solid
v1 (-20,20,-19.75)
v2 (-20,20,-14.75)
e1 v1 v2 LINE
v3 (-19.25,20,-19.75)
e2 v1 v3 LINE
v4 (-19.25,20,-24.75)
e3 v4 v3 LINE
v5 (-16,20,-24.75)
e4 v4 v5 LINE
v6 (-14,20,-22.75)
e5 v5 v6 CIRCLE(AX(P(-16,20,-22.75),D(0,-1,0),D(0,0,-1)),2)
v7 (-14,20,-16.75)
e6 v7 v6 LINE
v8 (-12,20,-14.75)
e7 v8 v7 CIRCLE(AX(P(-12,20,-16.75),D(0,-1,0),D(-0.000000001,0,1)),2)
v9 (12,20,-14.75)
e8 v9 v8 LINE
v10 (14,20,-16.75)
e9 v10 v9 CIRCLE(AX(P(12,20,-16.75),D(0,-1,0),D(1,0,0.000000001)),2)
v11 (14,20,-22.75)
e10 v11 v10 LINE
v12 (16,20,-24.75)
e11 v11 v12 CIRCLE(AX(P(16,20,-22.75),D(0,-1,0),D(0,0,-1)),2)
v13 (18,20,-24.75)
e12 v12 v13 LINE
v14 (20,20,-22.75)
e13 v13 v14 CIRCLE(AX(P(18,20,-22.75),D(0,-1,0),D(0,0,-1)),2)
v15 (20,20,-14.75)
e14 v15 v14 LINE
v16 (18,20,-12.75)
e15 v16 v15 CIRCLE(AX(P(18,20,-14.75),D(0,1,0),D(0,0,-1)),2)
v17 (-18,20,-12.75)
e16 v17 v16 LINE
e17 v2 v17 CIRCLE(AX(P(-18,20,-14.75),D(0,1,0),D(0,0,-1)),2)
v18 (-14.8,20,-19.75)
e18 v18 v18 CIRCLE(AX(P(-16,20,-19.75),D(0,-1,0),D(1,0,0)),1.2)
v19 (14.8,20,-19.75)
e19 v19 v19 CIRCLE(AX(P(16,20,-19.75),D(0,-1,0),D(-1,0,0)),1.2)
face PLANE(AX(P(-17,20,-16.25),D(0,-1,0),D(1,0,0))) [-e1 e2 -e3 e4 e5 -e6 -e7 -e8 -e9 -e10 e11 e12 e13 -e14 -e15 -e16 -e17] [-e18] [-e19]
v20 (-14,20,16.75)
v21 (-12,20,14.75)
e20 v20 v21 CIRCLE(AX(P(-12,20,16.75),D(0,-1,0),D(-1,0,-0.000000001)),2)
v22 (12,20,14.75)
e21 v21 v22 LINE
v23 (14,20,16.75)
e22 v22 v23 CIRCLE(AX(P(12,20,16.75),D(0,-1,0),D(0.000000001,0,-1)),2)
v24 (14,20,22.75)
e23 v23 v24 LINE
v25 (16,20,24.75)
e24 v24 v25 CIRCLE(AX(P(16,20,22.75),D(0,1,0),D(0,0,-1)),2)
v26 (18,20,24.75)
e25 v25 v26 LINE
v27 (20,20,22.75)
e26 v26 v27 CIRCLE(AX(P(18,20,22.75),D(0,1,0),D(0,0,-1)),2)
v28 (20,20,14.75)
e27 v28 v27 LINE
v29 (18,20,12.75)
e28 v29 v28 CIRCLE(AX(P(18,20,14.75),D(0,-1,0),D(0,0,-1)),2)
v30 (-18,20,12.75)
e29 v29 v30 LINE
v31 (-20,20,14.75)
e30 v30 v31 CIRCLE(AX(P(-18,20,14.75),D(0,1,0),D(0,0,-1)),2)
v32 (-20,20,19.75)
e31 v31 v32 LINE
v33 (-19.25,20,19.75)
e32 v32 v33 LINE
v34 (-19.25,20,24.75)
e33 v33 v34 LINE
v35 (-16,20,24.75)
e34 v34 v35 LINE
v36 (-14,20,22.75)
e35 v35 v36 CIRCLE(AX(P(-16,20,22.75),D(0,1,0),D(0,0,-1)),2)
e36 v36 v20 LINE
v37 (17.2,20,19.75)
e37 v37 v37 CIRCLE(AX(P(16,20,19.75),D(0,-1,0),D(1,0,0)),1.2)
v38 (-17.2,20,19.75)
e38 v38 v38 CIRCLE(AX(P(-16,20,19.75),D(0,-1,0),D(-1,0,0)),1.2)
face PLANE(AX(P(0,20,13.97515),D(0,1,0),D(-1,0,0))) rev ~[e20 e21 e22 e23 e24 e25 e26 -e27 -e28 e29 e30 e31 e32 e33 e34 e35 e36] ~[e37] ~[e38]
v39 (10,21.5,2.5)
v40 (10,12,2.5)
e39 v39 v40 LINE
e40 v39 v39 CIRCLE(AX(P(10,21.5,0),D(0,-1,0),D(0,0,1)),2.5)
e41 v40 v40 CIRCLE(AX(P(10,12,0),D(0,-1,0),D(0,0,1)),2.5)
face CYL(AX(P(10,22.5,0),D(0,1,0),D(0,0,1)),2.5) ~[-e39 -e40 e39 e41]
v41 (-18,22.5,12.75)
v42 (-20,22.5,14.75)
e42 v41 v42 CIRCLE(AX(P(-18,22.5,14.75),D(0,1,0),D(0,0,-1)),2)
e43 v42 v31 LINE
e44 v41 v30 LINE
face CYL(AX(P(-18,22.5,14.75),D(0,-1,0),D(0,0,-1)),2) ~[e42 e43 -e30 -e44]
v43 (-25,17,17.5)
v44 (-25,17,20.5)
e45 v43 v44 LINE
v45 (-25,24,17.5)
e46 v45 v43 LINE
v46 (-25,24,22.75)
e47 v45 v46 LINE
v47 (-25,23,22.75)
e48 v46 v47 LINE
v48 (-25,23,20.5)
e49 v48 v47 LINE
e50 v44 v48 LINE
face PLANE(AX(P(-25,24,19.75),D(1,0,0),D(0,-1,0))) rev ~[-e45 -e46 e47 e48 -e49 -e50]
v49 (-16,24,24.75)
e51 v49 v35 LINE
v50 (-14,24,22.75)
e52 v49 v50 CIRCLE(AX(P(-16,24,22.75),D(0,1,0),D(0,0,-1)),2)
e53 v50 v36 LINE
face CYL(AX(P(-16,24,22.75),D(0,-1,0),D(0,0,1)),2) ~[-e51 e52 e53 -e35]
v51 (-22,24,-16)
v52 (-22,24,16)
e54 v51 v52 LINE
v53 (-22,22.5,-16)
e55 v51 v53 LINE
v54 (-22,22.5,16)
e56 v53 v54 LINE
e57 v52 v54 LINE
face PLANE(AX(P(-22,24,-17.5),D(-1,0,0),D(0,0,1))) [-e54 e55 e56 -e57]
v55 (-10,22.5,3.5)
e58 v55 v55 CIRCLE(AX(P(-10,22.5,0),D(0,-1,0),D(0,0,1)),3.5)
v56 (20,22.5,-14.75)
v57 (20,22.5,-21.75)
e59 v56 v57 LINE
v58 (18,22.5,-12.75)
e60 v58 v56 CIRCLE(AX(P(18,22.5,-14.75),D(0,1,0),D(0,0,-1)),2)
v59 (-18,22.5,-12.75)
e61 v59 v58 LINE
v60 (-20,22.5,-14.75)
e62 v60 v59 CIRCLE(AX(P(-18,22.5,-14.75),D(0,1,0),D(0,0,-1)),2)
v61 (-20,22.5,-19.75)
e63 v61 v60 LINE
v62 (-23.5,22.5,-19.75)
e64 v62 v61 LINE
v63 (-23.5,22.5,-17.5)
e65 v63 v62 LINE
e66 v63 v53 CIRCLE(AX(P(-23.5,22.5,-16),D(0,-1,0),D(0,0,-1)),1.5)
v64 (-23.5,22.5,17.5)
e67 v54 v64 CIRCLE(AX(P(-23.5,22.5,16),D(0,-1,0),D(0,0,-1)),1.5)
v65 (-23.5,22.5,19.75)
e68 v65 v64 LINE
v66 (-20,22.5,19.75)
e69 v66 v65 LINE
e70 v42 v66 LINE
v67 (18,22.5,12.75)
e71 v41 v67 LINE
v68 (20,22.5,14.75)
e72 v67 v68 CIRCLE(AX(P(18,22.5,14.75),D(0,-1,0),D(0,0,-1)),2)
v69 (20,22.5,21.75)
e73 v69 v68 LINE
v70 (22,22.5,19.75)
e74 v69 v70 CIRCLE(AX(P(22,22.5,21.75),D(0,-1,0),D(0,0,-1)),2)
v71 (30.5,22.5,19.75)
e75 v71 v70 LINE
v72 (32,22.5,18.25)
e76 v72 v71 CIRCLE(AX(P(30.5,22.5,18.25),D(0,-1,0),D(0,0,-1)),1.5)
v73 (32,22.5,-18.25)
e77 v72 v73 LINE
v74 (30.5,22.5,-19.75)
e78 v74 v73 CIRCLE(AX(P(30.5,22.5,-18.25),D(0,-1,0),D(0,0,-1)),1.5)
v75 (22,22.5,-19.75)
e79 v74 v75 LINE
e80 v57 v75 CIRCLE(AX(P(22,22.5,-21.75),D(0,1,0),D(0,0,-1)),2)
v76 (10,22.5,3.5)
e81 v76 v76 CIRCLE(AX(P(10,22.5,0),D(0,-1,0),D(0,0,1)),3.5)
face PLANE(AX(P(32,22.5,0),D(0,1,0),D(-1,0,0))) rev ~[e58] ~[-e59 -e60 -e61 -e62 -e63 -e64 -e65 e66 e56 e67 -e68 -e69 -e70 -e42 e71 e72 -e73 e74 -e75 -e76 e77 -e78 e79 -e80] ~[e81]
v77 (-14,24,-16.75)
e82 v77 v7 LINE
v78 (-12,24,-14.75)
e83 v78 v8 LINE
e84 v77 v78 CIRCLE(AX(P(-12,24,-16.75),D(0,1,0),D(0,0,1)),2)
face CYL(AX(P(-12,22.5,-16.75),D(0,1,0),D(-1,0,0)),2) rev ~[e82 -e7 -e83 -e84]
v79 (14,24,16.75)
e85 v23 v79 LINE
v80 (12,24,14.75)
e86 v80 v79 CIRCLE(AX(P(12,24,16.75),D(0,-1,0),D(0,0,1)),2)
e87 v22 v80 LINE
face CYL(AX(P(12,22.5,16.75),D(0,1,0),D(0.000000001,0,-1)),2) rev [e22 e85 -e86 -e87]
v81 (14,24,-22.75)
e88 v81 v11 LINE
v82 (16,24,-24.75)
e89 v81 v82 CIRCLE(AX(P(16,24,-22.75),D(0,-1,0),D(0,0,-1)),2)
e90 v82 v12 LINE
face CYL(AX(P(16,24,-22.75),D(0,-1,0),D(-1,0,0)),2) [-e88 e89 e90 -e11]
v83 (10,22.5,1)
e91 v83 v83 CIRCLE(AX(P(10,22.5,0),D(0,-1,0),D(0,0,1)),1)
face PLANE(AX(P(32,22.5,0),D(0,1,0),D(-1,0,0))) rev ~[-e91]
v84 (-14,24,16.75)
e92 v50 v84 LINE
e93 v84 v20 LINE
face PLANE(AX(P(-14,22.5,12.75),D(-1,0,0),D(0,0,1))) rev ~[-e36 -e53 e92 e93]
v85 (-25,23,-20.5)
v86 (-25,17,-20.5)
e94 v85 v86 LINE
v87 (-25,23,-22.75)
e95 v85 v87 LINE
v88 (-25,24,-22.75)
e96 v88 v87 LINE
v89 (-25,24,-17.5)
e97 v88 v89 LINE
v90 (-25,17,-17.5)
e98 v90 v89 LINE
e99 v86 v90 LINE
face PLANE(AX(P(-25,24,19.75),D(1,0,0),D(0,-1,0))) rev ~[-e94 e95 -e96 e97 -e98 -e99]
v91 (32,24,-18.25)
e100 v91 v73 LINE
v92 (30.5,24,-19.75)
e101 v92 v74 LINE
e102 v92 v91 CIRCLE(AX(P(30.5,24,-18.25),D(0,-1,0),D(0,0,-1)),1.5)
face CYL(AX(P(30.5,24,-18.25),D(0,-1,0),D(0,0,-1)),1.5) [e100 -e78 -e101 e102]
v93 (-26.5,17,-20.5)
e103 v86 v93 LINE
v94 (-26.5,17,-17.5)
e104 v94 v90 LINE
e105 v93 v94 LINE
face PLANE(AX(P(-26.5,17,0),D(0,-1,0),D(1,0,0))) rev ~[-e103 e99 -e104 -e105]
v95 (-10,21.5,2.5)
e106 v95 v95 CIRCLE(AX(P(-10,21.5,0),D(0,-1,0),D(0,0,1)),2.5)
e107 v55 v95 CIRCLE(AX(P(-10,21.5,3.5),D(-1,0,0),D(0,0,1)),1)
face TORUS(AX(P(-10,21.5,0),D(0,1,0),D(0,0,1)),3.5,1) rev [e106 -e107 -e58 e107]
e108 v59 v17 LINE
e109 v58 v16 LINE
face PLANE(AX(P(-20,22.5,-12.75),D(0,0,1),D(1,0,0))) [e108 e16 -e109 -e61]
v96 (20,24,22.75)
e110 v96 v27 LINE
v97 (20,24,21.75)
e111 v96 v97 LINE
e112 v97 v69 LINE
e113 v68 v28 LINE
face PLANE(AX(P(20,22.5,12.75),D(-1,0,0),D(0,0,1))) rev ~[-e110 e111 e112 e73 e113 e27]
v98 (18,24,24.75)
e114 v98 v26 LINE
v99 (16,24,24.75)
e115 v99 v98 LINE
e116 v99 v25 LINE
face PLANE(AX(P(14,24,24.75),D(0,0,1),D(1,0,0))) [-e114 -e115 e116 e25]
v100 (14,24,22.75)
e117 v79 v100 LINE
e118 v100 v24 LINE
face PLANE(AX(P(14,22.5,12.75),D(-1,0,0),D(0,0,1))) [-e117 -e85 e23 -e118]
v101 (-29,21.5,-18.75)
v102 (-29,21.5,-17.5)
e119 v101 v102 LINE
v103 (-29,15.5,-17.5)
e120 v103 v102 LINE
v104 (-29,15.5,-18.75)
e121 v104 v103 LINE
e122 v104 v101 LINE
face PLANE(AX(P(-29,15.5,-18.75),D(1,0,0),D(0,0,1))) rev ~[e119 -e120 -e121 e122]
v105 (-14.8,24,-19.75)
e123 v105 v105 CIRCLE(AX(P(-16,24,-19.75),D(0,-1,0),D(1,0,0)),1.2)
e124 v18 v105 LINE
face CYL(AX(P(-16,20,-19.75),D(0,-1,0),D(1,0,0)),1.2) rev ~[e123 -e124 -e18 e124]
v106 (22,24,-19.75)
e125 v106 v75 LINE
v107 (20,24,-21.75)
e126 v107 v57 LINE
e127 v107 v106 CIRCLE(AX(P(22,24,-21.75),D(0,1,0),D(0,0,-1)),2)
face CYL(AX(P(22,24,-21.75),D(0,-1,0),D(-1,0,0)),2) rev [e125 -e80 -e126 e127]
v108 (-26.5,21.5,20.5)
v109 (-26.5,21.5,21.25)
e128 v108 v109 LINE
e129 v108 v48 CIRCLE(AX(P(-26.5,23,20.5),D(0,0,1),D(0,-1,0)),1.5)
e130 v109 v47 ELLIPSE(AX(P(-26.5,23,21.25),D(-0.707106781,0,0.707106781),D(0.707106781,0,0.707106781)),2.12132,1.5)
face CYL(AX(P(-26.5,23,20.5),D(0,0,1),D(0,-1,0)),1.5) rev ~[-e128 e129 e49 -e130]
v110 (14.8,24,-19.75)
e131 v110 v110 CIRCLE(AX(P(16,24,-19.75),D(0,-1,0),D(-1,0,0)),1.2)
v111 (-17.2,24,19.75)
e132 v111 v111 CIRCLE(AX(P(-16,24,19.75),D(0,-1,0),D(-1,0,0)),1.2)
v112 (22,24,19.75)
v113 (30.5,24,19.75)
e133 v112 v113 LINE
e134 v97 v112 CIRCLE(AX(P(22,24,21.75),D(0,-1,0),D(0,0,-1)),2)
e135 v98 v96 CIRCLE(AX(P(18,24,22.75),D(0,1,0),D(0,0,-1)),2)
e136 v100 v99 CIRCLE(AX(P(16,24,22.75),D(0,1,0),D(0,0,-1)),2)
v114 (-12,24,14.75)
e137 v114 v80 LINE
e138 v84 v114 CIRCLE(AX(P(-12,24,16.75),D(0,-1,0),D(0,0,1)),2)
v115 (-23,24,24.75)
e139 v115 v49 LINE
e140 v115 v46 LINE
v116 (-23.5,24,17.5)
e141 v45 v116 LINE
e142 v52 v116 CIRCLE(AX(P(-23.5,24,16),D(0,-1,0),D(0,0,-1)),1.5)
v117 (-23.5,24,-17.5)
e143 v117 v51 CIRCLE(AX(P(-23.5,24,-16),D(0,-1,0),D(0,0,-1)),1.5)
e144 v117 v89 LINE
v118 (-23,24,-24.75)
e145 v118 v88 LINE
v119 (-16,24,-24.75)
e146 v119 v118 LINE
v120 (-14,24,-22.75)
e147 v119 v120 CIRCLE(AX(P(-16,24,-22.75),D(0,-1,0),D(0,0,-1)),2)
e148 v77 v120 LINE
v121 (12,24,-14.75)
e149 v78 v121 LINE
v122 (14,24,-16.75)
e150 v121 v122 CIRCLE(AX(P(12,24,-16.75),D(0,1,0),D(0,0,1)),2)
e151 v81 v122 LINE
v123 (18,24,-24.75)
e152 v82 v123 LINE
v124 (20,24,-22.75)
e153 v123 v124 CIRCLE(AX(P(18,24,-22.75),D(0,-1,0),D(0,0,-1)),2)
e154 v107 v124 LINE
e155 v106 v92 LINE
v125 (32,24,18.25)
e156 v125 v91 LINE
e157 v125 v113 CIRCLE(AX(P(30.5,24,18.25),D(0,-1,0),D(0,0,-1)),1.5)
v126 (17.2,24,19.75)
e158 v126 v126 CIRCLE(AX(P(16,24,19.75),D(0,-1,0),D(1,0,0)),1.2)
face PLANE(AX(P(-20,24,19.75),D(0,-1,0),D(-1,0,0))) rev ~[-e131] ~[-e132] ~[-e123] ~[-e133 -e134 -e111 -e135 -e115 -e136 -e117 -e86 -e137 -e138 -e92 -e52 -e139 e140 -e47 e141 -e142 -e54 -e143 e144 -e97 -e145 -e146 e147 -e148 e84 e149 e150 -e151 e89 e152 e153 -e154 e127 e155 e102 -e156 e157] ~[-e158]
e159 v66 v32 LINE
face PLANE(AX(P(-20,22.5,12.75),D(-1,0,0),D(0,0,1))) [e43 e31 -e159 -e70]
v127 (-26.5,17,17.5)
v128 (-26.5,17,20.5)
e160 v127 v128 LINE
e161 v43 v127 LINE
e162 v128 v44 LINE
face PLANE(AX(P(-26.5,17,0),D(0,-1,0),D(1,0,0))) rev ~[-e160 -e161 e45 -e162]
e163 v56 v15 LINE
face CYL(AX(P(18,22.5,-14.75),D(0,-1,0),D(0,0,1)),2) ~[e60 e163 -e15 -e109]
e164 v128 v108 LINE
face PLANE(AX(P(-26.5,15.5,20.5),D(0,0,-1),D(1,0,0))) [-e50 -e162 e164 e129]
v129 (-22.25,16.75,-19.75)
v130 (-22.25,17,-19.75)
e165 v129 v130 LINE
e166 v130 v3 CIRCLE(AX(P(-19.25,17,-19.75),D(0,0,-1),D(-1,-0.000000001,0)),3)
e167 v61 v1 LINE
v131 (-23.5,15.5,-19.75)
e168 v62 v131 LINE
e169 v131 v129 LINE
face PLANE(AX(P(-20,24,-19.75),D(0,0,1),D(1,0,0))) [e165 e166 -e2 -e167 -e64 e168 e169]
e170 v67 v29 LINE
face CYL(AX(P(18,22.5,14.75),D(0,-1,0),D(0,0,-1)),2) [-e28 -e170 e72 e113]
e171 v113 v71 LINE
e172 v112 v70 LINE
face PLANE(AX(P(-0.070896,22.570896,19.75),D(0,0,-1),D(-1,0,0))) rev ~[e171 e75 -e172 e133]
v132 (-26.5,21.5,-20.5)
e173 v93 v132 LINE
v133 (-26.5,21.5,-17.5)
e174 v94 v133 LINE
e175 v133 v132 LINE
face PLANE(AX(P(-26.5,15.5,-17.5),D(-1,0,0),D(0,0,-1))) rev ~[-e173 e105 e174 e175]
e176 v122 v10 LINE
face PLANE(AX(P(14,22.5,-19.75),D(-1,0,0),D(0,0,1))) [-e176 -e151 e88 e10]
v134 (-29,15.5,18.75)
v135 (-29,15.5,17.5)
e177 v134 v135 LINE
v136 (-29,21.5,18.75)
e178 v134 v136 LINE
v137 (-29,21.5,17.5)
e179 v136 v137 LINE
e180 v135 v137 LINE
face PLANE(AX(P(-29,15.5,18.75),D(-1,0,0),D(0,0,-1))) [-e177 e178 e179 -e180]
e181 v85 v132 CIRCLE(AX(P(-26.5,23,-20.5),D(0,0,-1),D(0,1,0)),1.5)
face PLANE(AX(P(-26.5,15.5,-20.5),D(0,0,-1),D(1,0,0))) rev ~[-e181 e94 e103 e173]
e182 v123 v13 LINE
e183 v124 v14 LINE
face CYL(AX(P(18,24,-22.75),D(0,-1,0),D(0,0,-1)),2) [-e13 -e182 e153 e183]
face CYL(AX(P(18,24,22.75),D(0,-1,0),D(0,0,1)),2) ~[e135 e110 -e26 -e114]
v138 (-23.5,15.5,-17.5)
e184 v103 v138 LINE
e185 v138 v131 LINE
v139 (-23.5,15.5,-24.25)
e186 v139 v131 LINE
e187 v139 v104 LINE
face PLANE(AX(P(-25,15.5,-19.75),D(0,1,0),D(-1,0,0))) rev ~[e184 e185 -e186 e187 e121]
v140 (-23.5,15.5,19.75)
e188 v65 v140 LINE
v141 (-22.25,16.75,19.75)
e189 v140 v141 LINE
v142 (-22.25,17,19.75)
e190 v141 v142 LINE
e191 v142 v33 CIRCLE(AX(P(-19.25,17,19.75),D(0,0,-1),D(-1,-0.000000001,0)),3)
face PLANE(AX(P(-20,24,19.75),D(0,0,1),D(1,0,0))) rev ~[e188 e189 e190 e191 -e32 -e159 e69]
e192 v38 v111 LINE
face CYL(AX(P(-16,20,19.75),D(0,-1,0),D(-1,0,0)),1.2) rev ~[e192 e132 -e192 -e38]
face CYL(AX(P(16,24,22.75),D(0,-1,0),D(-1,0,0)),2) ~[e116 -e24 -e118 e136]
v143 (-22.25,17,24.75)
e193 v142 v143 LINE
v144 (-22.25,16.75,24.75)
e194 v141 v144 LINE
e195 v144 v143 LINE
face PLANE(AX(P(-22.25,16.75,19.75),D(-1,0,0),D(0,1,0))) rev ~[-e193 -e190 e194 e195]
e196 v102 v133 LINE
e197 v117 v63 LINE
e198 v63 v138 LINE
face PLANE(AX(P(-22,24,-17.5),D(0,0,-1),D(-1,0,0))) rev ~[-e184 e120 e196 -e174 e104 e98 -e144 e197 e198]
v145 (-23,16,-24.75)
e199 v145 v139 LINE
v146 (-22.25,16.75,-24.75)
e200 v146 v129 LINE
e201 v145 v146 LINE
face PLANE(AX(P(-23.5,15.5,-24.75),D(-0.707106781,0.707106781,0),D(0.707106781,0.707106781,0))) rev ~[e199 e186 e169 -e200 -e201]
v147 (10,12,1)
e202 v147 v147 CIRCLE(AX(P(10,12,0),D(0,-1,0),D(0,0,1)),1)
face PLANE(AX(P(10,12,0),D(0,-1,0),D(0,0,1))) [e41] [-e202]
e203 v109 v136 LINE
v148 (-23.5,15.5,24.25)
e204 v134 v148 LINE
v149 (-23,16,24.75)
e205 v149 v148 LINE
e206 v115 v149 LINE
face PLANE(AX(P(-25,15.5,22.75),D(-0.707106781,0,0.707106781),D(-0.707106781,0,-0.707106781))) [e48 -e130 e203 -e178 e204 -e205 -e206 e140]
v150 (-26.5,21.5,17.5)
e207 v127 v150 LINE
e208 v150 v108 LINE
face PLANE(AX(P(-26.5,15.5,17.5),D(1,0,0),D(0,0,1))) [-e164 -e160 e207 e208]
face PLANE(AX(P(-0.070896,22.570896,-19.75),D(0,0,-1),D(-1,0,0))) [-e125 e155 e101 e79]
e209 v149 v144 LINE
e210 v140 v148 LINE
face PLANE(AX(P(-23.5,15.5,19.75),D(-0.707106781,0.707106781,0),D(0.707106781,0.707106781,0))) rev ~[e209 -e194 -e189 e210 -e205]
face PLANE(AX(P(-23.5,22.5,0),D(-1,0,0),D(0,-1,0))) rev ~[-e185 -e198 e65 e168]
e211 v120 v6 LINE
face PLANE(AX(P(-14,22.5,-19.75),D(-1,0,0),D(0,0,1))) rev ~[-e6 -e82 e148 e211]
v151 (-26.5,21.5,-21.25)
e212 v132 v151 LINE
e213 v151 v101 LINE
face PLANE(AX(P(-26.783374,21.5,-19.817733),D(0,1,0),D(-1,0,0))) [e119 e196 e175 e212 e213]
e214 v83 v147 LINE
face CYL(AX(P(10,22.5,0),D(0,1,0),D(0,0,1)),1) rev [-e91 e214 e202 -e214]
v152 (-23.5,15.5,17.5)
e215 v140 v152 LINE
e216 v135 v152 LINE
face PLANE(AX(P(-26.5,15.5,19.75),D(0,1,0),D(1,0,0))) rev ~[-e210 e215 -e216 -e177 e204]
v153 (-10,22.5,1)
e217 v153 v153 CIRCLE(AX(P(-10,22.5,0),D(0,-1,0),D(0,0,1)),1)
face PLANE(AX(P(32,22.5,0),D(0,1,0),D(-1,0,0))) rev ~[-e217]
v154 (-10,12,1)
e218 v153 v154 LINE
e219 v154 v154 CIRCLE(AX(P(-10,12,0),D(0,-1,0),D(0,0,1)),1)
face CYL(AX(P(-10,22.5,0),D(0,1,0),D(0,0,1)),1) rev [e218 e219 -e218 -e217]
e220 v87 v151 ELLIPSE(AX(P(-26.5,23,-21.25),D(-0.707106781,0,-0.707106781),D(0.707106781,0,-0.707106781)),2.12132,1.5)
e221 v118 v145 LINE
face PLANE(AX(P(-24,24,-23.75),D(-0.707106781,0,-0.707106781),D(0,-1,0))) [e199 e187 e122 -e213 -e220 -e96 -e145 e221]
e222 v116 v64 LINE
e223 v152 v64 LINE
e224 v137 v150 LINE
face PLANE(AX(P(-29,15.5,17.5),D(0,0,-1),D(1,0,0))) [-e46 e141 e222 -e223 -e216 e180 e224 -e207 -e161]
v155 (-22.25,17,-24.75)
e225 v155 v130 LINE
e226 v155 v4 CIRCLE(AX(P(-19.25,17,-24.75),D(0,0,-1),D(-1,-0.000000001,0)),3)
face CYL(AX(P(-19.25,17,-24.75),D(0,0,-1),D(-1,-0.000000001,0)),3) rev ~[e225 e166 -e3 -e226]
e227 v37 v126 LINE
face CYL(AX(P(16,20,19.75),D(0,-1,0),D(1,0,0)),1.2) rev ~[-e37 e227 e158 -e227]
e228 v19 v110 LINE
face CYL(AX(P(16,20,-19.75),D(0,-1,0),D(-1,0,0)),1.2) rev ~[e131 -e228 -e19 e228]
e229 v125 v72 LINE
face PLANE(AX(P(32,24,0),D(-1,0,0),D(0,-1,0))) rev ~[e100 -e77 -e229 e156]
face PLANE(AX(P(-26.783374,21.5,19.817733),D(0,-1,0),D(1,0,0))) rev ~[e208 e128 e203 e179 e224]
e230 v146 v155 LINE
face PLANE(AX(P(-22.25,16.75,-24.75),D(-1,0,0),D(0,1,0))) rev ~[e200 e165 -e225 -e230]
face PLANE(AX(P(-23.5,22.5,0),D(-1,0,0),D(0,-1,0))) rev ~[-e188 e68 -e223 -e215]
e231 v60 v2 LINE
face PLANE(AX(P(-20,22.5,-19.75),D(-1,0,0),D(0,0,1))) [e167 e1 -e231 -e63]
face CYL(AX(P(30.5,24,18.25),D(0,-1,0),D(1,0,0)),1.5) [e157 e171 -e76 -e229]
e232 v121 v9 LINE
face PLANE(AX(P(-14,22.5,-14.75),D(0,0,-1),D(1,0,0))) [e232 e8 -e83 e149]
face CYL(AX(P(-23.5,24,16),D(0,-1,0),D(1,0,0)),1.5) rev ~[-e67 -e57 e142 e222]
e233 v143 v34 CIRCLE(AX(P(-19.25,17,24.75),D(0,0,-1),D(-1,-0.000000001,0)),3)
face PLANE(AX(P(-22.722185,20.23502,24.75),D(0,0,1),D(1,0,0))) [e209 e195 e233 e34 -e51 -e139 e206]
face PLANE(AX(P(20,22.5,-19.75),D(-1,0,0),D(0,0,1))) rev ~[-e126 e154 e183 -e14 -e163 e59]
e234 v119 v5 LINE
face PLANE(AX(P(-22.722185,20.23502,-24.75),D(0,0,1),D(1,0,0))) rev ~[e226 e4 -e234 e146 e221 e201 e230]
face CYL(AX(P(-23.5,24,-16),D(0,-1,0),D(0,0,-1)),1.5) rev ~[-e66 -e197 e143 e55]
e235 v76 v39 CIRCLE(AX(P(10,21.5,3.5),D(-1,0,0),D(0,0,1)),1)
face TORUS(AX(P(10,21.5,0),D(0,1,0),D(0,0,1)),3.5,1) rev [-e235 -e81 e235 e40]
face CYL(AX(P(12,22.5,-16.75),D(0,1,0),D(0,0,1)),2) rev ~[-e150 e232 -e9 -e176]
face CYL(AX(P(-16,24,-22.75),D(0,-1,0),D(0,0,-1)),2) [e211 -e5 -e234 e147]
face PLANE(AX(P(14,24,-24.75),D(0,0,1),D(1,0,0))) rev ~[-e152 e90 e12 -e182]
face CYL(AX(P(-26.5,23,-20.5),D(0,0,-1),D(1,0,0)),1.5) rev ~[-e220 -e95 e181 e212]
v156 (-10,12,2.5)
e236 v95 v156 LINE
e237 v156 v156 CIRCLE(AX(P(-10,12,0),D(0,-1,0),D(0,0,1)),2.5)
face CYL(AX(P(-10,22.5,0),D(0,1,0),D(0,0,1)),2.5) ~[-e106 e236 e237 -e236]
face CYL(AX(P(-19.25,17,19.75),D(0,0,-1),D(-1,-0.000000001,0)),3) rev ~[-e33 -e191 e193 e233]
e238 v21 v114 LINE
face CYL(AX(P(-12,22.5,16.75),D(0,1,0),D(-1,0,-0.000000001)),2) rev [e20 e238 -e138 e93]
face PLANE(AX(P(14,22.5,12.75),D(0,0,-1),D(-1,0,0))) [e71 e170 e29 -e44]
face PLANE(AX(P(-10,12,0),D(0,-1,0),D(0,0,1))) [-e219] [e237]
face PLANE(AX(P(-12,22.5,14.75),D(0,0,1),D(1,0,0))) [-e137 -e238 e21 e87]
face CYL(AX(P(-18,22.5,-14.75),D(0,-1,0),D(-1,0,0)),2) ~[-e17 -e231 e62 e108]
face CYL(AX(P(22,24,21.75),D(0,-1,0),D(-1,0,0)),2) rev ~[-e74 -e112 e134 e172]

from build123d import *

# Parameters (mm, degrees)
BOSS_EXTRUDE1_DEPTH  = 19.75
SKETCH2_W            = 28
SKETCH2_H            = 5
CUT_EXTRUDE1_DEPTH   = 39.25
SKETCH3_W            = 6
SKETCH3_H            = 5
BOSS_EXTRUDE2_DEPTH  = 4
BOSS_EXTRUDE4_DEPTH  = 5
BOSS_EXTRUDE5_START  = -5
BOSS_EXTRUDE5_DEPTH  = 5
CHAMFER2_SIZE        = 2
FILLET1_R            = 2
CUT_EXTRUDE3_DEPTH   = 42.337785379
BOSS_EXTRUDE6_DEPTH  = 6
FILLET2_R            = 1.5
SKETCH11_R           = 2.5
SKETCH11_R_2         = 1
BOSS_EXTRUDE7_DEPTH  = 10.5
FILLET3_R            = 1
FILLET4_R            = 1.5
SKETCH13_W           = 6
SKETCH13_H           = 7
BOSS_EXTRUDE8_DEPTH  = 2.5
SKETCH14_R           = 1.2
CUT_EXTRUDE6_DEPTH   = 42.237877006
BOSS_EXTRUDE9_DEPTH  = 2.5
FILLET5_R            = 2
SKETCH18_W           = 1.5
SKETCH18_H           = 1.5
BOSS_EXTRUDE10_DEPTH = 0.75
SKETCH19_W           = 1.5
SKETCH19_H           = 1.5
BOSS_EXTRUDE11_DEPTH = 0.75


with BuildPart() as part:
    # Sketch1 → Boss-Extrude1 (new, symmetric)
    with BuildSketch(Plane.XY):
        Polygon((-25, 24), (32, 24), (32, 22.5), (-23.5, 22.5), (-23.5, 15.5), (-26.5, 15.5), (-26.5, 17), (-25, 17), align=None)
    extrude(amount=BOSS_EXTRUDE1_DEPTH, both=True)

    # Sketch2 → Cut-Extrude1 (cut, through all)
    with BuildSketch(Plane.XZ.offset(-22.5)):
        with Locations((0, 17.25)):
            Rectangle(SKETCH2_W, SKETCH2_H)
        with Locations((0, -17.25)):
            Rectangle(SKETCH2_W, SKETCH2_H)
    extrude(amount=-CUT_EXTRUDE1_DEPTH, mode=Mode.SUBTRACT)

    # Sketch3 → Boss-Extrude2 (add)
    with BuildSketch(Plane(origin=(0, 24, 0), x_dir=(1, 0, 0), z_dir=(0, 1, 0))):
        with Locations((-17, 22.25)):
            Rectangle(SKETCH3_W, SKETCH3_H)
        with Locations((17, 22.25)):
            Rectangle(SKETCH3_W, SKETCH3_H)
        with Locations((17, -22.25)):
            Rectangle(SKETCH3_W, SKETCH3_H)
        with Locations((-17, -22.25)):
            Rectangle(SKETCH3_W, SKETCH3_H)
    extrude(amount=-BOSS_EXTRUDE2_DEPTH)

    # Sketch6 → Boss-Extrude4 (add)
    with BuildSketch(Plane(origin=(0, 0, -24.75), x_dir=(-1, 0, 0), z_dir=(0, 0, -1))):
        with BuildLine():
            Line((20, 24), (25, 24))
            Line((25, 24), (25, 15.5))
            Line((25, 15.5), (23.5, 15.5))
            Line((23.5, 15.5), (22.25, 16.75))
            Line((22.25, 16.75), (22.25, 17))
            ThreePointArc((22.25, 17), (21.371320344, 19.121320344), (19.25, 20))
            Line((19.25, 20), (20, 20))
            Line((20, 20), (20, 24))
        make_face()
    extrude(amount=-BOSS_EXTRUDE4_DEPTH)

    # Sketch7 → Boss-Extrude5 (add)
    with BuildSketch(Plane.XY.offset(24.75).offset(BOSS_EXTRUDE5_START)):
        with BuildLine():
            Line((-20, 20), (-20, 24))
            Line((-20, 24), (-25, 24))
            Line((-25, 24), (-25, 15.5))
            Line((-25, 15.5), (-23.5, 15.5))
            Line((-23.5, 15.5), (-22.25, 16.75))
            Line((-22.25, 16.75), (-22.25, 17))
            ThreePointArc((-22.25, 17), (-21.371320344, 19.121320344), (-19.25, 20))
            Line((-19.25, 20), (-20, 20))
        make_face()
    extrude(amount=BOSS_EXTRUDE5_DEPTH)

    # Chamfer2
    chamfer2_edges = [part.edges().sort_by_distance(p)[0] for p in [
        (-25, 19.75, -24.75),
        (-25, 19.75, 24.75),
    ]]
    chamfer(chamfer2_edges, length=CHAMFER2_SIZE)

    # Fillet1
    fillet1_edges = [part.edges().sort_by_distance(p)[0] for p in [
        (14, 23.25, 14.75),
        (-14, 23.25, 14.75),
        (-14, 23.25, -14.75),
        (14, 23.25, -14.75),
        (14, 22, 24.75),
        (20, 23.25, 19.75),
        (20, 22, 24.75),
        (-14, 22, 24.75),
        (20, 23.25, -19.75),
        (14, 22, -24.75),
        (20, 22, -24.75),
        (-14, 22, -24.75),
    ]]
    fillet(fillet1_edges, radius=FILLET1_R)

    # Sketch8 → Cut-Extrude3 (cut, through all)
    with BuildSketch(Plane(origin=(0, 24, 0), x_dir=(1, 0, 0), z_dir=(0, 1, 0))):
        Polygon((-25, 17.5), (-22, 17.5), (-22, -17.5), (-25, -17.5), (-26.867861181, -17.5), (-26.867861181, 17.5), align=None)
    extrude(amount=-CUT_EXTRUDE3_DEPTH, mode=Mode.SUBTRACT)

    # Sketch9 → Boss-Extrude6 (add)
    with BuildSketch(Plane.XZ.offset(-15.5)):
        Polygon((-25, 22.75), (-29, 18.75), (-29, 17.5), (-26.5, 17.5), (-26.5, 20.5), (-25, 20.5), align=None)
        Polygon((-25, -20.5), (-25, -22.75), (-29, -18.75), (-29, -17.5), (-26.5, -17.5), (-26.5, -20.5), align=None)
    extrude(amount=-BOSS_EXTRUDE6_DEPTH)

    # Fillet2
    fillet2_edges = [part.edges().sort_by_distance(p)[0] for p in [
        (-25, 21.5, 21.625),
        (-25, 21.5, -21.625),
    ]]
    fillet(fillet2_edges, radius=FILLET2_R)

    # Sketch11 → Boss-Extrude7 (add)
    # profile 1 of 2: a face of its own
    with BuildSketch(Plane.XZ.offset(-22.5)):
        with Locations(Location((10, 0, 0), (0, 0, 90))):
            Circle(SKETCH11_R)
        with Locations(Location((10, 0, 0), (0, 0, 90))):
            Circle(SKETCH11_R_2, mode=Mode.SUBTRACT)
    # profile 2 of 2: a face of its own
    with BuildSketch(Plane.XZ.offset(-22.5)):
        with Locations(Location((-10, 0, 0), (0, 0, 90))):
            Circle(SKETCH11_R)
        with Locations(Location((-10, 0, 0), (0, 0, 90))):
            Circle(SKETCH11_R_2, mode=Mode.SUBTRACT)
    extrude(amount=BOSS_EXTRUDE7_DEPTH)

    # Fillet3
    fillet3_edges = [part.edges().sort_by_distance(p)[0] for p in [
        (10, 22.5, -2.5),
        (-10, 22.5, -2.5),
    ]]
    fillet(fillet3_edges, radius=FILLET3_R)

    # Fillet4
    fillet4_edges = [part.edges().sort_by_distance(p)[0] for p in [
        (32, 23.25, -19.75),
        (32, 23.25, 19.75),
        (-22, 23.25, -17.5),
        (-22, 23.25, 17.5),
    ]]
    fillet(fillet4_edges, radius=FILLET4_R)

    # Sketch13 → Boss-Extrude8 (add)
    with BuildSketch(Plane.XZ.offset(-22.5)):
        with Locations((17, 16.25)):
            Rectangle(SKETCH13_W, SKETCH13_H)
        with Locations((17, -16.25)):
            Rectangle(SKETCH13_W, SKETCH13_H)
        with Locations((-17, -16.25)):
            Rectangle(SKETCH13_W, SKETCH13_H)
        with Locations((-17, 16.25)):
            Rectangle(SKETCH13_W, SKETCH13_H)
    extrude(amount=BOSS_EXTRUDE8_DEPTH)

    # Sketch14 → Cut-Extrude6 (cut, through all)
    with BuildSketch(Plane.XZ.offset(-20)):
        with Locations((16, 19.75)):
            Circle(SKETCH14_R)
        with Locations(Location((-16, 19.75, 0), (0, 0, 180))):
            Circle(SKETCH14_R)
        with Locations((-16, -19.75)):
            Circle(SKETCH14_R)
        with Locations(Location((16, -19.75, 0), (0, 0, 180))):
            Circle(SKETCH14_R)
    extrude(amount=-CUT_EXTRUDE6_DEPTH, mode=Mode.SUBTRACT)

    # Sketch15 → Boss-Extrude9 (add)
    with BuildSketch(Plane.XZ.offset(-22.5)):
        with BuildLine():
            Line((14, 16.75), (14, 12.75))
            Line((14, 12.75), (-14, 12.75))
            Line((-14, 12.75), (-14, 16.75))
            ThreePointArc((-14, 16.75), (-13.414213562, 15.335786438), (-12, 14.75))
            Line((-12, 14.75), (12, 14.75))
            ThreePointArc((12, 14.75), (13.414213562, 15.335786438), (14, 16.75))
        make_face()
        with BuildLine():
            Line((-14, -12.75), (14, -12.75))
            Line((14, -12.75), (14, -16.75))
            ThreePointArc((14, -16.75), (13.414213562, -15.335786438), (12, -14.75))
            Line((12, -14.75), (-12, -14.75))
            ThreePointArc((-12, -14.75), (-13.414213562, -15.335786438), (-14, -16.75))
            Line((-14, -16.75), (-14, -12.75))
        make_face()
    extrude(amount=BOSS_EXTRUDE9_DEPTH)

    # Fillet5
    fillet5_edges = [part.edges().sort_by_distance(p)[0] for p in [
        (20, 21.25, 12.75),
        (20, 21.25, -12.75),
        (-20, 21.25, -12.75),
        (-20, 21.25, 12.75),
    ]]
    fillet(fillet5_edges, radius=FILLET5_R)

    # Sketch18 → Boss-Extrude10 (add)
    with BuildSketch(Plane.XY.offset(19.75)):
        with Locations((-25.75, 16.25)):
            Rectangle(SKETCH18_W, SKETCH18_H)
    extrude(amount=BOSS_EXTRUDE10_DEPTH)

    # Sketch19 → Boss-Extrude11 (add)
    with BuildSketch(Plane(origin=(0, 0, -19.75), x_dir=(-1, 0, 0), z_dir=(0, 0, -1))):
        with Locations((25.75, 16.25)):
            Rectangle(SKETCH19_W, SKETCH19_H)
    extrude(amount=BOSS_EXTRUDE11_DEPTH)


solid = part.part
